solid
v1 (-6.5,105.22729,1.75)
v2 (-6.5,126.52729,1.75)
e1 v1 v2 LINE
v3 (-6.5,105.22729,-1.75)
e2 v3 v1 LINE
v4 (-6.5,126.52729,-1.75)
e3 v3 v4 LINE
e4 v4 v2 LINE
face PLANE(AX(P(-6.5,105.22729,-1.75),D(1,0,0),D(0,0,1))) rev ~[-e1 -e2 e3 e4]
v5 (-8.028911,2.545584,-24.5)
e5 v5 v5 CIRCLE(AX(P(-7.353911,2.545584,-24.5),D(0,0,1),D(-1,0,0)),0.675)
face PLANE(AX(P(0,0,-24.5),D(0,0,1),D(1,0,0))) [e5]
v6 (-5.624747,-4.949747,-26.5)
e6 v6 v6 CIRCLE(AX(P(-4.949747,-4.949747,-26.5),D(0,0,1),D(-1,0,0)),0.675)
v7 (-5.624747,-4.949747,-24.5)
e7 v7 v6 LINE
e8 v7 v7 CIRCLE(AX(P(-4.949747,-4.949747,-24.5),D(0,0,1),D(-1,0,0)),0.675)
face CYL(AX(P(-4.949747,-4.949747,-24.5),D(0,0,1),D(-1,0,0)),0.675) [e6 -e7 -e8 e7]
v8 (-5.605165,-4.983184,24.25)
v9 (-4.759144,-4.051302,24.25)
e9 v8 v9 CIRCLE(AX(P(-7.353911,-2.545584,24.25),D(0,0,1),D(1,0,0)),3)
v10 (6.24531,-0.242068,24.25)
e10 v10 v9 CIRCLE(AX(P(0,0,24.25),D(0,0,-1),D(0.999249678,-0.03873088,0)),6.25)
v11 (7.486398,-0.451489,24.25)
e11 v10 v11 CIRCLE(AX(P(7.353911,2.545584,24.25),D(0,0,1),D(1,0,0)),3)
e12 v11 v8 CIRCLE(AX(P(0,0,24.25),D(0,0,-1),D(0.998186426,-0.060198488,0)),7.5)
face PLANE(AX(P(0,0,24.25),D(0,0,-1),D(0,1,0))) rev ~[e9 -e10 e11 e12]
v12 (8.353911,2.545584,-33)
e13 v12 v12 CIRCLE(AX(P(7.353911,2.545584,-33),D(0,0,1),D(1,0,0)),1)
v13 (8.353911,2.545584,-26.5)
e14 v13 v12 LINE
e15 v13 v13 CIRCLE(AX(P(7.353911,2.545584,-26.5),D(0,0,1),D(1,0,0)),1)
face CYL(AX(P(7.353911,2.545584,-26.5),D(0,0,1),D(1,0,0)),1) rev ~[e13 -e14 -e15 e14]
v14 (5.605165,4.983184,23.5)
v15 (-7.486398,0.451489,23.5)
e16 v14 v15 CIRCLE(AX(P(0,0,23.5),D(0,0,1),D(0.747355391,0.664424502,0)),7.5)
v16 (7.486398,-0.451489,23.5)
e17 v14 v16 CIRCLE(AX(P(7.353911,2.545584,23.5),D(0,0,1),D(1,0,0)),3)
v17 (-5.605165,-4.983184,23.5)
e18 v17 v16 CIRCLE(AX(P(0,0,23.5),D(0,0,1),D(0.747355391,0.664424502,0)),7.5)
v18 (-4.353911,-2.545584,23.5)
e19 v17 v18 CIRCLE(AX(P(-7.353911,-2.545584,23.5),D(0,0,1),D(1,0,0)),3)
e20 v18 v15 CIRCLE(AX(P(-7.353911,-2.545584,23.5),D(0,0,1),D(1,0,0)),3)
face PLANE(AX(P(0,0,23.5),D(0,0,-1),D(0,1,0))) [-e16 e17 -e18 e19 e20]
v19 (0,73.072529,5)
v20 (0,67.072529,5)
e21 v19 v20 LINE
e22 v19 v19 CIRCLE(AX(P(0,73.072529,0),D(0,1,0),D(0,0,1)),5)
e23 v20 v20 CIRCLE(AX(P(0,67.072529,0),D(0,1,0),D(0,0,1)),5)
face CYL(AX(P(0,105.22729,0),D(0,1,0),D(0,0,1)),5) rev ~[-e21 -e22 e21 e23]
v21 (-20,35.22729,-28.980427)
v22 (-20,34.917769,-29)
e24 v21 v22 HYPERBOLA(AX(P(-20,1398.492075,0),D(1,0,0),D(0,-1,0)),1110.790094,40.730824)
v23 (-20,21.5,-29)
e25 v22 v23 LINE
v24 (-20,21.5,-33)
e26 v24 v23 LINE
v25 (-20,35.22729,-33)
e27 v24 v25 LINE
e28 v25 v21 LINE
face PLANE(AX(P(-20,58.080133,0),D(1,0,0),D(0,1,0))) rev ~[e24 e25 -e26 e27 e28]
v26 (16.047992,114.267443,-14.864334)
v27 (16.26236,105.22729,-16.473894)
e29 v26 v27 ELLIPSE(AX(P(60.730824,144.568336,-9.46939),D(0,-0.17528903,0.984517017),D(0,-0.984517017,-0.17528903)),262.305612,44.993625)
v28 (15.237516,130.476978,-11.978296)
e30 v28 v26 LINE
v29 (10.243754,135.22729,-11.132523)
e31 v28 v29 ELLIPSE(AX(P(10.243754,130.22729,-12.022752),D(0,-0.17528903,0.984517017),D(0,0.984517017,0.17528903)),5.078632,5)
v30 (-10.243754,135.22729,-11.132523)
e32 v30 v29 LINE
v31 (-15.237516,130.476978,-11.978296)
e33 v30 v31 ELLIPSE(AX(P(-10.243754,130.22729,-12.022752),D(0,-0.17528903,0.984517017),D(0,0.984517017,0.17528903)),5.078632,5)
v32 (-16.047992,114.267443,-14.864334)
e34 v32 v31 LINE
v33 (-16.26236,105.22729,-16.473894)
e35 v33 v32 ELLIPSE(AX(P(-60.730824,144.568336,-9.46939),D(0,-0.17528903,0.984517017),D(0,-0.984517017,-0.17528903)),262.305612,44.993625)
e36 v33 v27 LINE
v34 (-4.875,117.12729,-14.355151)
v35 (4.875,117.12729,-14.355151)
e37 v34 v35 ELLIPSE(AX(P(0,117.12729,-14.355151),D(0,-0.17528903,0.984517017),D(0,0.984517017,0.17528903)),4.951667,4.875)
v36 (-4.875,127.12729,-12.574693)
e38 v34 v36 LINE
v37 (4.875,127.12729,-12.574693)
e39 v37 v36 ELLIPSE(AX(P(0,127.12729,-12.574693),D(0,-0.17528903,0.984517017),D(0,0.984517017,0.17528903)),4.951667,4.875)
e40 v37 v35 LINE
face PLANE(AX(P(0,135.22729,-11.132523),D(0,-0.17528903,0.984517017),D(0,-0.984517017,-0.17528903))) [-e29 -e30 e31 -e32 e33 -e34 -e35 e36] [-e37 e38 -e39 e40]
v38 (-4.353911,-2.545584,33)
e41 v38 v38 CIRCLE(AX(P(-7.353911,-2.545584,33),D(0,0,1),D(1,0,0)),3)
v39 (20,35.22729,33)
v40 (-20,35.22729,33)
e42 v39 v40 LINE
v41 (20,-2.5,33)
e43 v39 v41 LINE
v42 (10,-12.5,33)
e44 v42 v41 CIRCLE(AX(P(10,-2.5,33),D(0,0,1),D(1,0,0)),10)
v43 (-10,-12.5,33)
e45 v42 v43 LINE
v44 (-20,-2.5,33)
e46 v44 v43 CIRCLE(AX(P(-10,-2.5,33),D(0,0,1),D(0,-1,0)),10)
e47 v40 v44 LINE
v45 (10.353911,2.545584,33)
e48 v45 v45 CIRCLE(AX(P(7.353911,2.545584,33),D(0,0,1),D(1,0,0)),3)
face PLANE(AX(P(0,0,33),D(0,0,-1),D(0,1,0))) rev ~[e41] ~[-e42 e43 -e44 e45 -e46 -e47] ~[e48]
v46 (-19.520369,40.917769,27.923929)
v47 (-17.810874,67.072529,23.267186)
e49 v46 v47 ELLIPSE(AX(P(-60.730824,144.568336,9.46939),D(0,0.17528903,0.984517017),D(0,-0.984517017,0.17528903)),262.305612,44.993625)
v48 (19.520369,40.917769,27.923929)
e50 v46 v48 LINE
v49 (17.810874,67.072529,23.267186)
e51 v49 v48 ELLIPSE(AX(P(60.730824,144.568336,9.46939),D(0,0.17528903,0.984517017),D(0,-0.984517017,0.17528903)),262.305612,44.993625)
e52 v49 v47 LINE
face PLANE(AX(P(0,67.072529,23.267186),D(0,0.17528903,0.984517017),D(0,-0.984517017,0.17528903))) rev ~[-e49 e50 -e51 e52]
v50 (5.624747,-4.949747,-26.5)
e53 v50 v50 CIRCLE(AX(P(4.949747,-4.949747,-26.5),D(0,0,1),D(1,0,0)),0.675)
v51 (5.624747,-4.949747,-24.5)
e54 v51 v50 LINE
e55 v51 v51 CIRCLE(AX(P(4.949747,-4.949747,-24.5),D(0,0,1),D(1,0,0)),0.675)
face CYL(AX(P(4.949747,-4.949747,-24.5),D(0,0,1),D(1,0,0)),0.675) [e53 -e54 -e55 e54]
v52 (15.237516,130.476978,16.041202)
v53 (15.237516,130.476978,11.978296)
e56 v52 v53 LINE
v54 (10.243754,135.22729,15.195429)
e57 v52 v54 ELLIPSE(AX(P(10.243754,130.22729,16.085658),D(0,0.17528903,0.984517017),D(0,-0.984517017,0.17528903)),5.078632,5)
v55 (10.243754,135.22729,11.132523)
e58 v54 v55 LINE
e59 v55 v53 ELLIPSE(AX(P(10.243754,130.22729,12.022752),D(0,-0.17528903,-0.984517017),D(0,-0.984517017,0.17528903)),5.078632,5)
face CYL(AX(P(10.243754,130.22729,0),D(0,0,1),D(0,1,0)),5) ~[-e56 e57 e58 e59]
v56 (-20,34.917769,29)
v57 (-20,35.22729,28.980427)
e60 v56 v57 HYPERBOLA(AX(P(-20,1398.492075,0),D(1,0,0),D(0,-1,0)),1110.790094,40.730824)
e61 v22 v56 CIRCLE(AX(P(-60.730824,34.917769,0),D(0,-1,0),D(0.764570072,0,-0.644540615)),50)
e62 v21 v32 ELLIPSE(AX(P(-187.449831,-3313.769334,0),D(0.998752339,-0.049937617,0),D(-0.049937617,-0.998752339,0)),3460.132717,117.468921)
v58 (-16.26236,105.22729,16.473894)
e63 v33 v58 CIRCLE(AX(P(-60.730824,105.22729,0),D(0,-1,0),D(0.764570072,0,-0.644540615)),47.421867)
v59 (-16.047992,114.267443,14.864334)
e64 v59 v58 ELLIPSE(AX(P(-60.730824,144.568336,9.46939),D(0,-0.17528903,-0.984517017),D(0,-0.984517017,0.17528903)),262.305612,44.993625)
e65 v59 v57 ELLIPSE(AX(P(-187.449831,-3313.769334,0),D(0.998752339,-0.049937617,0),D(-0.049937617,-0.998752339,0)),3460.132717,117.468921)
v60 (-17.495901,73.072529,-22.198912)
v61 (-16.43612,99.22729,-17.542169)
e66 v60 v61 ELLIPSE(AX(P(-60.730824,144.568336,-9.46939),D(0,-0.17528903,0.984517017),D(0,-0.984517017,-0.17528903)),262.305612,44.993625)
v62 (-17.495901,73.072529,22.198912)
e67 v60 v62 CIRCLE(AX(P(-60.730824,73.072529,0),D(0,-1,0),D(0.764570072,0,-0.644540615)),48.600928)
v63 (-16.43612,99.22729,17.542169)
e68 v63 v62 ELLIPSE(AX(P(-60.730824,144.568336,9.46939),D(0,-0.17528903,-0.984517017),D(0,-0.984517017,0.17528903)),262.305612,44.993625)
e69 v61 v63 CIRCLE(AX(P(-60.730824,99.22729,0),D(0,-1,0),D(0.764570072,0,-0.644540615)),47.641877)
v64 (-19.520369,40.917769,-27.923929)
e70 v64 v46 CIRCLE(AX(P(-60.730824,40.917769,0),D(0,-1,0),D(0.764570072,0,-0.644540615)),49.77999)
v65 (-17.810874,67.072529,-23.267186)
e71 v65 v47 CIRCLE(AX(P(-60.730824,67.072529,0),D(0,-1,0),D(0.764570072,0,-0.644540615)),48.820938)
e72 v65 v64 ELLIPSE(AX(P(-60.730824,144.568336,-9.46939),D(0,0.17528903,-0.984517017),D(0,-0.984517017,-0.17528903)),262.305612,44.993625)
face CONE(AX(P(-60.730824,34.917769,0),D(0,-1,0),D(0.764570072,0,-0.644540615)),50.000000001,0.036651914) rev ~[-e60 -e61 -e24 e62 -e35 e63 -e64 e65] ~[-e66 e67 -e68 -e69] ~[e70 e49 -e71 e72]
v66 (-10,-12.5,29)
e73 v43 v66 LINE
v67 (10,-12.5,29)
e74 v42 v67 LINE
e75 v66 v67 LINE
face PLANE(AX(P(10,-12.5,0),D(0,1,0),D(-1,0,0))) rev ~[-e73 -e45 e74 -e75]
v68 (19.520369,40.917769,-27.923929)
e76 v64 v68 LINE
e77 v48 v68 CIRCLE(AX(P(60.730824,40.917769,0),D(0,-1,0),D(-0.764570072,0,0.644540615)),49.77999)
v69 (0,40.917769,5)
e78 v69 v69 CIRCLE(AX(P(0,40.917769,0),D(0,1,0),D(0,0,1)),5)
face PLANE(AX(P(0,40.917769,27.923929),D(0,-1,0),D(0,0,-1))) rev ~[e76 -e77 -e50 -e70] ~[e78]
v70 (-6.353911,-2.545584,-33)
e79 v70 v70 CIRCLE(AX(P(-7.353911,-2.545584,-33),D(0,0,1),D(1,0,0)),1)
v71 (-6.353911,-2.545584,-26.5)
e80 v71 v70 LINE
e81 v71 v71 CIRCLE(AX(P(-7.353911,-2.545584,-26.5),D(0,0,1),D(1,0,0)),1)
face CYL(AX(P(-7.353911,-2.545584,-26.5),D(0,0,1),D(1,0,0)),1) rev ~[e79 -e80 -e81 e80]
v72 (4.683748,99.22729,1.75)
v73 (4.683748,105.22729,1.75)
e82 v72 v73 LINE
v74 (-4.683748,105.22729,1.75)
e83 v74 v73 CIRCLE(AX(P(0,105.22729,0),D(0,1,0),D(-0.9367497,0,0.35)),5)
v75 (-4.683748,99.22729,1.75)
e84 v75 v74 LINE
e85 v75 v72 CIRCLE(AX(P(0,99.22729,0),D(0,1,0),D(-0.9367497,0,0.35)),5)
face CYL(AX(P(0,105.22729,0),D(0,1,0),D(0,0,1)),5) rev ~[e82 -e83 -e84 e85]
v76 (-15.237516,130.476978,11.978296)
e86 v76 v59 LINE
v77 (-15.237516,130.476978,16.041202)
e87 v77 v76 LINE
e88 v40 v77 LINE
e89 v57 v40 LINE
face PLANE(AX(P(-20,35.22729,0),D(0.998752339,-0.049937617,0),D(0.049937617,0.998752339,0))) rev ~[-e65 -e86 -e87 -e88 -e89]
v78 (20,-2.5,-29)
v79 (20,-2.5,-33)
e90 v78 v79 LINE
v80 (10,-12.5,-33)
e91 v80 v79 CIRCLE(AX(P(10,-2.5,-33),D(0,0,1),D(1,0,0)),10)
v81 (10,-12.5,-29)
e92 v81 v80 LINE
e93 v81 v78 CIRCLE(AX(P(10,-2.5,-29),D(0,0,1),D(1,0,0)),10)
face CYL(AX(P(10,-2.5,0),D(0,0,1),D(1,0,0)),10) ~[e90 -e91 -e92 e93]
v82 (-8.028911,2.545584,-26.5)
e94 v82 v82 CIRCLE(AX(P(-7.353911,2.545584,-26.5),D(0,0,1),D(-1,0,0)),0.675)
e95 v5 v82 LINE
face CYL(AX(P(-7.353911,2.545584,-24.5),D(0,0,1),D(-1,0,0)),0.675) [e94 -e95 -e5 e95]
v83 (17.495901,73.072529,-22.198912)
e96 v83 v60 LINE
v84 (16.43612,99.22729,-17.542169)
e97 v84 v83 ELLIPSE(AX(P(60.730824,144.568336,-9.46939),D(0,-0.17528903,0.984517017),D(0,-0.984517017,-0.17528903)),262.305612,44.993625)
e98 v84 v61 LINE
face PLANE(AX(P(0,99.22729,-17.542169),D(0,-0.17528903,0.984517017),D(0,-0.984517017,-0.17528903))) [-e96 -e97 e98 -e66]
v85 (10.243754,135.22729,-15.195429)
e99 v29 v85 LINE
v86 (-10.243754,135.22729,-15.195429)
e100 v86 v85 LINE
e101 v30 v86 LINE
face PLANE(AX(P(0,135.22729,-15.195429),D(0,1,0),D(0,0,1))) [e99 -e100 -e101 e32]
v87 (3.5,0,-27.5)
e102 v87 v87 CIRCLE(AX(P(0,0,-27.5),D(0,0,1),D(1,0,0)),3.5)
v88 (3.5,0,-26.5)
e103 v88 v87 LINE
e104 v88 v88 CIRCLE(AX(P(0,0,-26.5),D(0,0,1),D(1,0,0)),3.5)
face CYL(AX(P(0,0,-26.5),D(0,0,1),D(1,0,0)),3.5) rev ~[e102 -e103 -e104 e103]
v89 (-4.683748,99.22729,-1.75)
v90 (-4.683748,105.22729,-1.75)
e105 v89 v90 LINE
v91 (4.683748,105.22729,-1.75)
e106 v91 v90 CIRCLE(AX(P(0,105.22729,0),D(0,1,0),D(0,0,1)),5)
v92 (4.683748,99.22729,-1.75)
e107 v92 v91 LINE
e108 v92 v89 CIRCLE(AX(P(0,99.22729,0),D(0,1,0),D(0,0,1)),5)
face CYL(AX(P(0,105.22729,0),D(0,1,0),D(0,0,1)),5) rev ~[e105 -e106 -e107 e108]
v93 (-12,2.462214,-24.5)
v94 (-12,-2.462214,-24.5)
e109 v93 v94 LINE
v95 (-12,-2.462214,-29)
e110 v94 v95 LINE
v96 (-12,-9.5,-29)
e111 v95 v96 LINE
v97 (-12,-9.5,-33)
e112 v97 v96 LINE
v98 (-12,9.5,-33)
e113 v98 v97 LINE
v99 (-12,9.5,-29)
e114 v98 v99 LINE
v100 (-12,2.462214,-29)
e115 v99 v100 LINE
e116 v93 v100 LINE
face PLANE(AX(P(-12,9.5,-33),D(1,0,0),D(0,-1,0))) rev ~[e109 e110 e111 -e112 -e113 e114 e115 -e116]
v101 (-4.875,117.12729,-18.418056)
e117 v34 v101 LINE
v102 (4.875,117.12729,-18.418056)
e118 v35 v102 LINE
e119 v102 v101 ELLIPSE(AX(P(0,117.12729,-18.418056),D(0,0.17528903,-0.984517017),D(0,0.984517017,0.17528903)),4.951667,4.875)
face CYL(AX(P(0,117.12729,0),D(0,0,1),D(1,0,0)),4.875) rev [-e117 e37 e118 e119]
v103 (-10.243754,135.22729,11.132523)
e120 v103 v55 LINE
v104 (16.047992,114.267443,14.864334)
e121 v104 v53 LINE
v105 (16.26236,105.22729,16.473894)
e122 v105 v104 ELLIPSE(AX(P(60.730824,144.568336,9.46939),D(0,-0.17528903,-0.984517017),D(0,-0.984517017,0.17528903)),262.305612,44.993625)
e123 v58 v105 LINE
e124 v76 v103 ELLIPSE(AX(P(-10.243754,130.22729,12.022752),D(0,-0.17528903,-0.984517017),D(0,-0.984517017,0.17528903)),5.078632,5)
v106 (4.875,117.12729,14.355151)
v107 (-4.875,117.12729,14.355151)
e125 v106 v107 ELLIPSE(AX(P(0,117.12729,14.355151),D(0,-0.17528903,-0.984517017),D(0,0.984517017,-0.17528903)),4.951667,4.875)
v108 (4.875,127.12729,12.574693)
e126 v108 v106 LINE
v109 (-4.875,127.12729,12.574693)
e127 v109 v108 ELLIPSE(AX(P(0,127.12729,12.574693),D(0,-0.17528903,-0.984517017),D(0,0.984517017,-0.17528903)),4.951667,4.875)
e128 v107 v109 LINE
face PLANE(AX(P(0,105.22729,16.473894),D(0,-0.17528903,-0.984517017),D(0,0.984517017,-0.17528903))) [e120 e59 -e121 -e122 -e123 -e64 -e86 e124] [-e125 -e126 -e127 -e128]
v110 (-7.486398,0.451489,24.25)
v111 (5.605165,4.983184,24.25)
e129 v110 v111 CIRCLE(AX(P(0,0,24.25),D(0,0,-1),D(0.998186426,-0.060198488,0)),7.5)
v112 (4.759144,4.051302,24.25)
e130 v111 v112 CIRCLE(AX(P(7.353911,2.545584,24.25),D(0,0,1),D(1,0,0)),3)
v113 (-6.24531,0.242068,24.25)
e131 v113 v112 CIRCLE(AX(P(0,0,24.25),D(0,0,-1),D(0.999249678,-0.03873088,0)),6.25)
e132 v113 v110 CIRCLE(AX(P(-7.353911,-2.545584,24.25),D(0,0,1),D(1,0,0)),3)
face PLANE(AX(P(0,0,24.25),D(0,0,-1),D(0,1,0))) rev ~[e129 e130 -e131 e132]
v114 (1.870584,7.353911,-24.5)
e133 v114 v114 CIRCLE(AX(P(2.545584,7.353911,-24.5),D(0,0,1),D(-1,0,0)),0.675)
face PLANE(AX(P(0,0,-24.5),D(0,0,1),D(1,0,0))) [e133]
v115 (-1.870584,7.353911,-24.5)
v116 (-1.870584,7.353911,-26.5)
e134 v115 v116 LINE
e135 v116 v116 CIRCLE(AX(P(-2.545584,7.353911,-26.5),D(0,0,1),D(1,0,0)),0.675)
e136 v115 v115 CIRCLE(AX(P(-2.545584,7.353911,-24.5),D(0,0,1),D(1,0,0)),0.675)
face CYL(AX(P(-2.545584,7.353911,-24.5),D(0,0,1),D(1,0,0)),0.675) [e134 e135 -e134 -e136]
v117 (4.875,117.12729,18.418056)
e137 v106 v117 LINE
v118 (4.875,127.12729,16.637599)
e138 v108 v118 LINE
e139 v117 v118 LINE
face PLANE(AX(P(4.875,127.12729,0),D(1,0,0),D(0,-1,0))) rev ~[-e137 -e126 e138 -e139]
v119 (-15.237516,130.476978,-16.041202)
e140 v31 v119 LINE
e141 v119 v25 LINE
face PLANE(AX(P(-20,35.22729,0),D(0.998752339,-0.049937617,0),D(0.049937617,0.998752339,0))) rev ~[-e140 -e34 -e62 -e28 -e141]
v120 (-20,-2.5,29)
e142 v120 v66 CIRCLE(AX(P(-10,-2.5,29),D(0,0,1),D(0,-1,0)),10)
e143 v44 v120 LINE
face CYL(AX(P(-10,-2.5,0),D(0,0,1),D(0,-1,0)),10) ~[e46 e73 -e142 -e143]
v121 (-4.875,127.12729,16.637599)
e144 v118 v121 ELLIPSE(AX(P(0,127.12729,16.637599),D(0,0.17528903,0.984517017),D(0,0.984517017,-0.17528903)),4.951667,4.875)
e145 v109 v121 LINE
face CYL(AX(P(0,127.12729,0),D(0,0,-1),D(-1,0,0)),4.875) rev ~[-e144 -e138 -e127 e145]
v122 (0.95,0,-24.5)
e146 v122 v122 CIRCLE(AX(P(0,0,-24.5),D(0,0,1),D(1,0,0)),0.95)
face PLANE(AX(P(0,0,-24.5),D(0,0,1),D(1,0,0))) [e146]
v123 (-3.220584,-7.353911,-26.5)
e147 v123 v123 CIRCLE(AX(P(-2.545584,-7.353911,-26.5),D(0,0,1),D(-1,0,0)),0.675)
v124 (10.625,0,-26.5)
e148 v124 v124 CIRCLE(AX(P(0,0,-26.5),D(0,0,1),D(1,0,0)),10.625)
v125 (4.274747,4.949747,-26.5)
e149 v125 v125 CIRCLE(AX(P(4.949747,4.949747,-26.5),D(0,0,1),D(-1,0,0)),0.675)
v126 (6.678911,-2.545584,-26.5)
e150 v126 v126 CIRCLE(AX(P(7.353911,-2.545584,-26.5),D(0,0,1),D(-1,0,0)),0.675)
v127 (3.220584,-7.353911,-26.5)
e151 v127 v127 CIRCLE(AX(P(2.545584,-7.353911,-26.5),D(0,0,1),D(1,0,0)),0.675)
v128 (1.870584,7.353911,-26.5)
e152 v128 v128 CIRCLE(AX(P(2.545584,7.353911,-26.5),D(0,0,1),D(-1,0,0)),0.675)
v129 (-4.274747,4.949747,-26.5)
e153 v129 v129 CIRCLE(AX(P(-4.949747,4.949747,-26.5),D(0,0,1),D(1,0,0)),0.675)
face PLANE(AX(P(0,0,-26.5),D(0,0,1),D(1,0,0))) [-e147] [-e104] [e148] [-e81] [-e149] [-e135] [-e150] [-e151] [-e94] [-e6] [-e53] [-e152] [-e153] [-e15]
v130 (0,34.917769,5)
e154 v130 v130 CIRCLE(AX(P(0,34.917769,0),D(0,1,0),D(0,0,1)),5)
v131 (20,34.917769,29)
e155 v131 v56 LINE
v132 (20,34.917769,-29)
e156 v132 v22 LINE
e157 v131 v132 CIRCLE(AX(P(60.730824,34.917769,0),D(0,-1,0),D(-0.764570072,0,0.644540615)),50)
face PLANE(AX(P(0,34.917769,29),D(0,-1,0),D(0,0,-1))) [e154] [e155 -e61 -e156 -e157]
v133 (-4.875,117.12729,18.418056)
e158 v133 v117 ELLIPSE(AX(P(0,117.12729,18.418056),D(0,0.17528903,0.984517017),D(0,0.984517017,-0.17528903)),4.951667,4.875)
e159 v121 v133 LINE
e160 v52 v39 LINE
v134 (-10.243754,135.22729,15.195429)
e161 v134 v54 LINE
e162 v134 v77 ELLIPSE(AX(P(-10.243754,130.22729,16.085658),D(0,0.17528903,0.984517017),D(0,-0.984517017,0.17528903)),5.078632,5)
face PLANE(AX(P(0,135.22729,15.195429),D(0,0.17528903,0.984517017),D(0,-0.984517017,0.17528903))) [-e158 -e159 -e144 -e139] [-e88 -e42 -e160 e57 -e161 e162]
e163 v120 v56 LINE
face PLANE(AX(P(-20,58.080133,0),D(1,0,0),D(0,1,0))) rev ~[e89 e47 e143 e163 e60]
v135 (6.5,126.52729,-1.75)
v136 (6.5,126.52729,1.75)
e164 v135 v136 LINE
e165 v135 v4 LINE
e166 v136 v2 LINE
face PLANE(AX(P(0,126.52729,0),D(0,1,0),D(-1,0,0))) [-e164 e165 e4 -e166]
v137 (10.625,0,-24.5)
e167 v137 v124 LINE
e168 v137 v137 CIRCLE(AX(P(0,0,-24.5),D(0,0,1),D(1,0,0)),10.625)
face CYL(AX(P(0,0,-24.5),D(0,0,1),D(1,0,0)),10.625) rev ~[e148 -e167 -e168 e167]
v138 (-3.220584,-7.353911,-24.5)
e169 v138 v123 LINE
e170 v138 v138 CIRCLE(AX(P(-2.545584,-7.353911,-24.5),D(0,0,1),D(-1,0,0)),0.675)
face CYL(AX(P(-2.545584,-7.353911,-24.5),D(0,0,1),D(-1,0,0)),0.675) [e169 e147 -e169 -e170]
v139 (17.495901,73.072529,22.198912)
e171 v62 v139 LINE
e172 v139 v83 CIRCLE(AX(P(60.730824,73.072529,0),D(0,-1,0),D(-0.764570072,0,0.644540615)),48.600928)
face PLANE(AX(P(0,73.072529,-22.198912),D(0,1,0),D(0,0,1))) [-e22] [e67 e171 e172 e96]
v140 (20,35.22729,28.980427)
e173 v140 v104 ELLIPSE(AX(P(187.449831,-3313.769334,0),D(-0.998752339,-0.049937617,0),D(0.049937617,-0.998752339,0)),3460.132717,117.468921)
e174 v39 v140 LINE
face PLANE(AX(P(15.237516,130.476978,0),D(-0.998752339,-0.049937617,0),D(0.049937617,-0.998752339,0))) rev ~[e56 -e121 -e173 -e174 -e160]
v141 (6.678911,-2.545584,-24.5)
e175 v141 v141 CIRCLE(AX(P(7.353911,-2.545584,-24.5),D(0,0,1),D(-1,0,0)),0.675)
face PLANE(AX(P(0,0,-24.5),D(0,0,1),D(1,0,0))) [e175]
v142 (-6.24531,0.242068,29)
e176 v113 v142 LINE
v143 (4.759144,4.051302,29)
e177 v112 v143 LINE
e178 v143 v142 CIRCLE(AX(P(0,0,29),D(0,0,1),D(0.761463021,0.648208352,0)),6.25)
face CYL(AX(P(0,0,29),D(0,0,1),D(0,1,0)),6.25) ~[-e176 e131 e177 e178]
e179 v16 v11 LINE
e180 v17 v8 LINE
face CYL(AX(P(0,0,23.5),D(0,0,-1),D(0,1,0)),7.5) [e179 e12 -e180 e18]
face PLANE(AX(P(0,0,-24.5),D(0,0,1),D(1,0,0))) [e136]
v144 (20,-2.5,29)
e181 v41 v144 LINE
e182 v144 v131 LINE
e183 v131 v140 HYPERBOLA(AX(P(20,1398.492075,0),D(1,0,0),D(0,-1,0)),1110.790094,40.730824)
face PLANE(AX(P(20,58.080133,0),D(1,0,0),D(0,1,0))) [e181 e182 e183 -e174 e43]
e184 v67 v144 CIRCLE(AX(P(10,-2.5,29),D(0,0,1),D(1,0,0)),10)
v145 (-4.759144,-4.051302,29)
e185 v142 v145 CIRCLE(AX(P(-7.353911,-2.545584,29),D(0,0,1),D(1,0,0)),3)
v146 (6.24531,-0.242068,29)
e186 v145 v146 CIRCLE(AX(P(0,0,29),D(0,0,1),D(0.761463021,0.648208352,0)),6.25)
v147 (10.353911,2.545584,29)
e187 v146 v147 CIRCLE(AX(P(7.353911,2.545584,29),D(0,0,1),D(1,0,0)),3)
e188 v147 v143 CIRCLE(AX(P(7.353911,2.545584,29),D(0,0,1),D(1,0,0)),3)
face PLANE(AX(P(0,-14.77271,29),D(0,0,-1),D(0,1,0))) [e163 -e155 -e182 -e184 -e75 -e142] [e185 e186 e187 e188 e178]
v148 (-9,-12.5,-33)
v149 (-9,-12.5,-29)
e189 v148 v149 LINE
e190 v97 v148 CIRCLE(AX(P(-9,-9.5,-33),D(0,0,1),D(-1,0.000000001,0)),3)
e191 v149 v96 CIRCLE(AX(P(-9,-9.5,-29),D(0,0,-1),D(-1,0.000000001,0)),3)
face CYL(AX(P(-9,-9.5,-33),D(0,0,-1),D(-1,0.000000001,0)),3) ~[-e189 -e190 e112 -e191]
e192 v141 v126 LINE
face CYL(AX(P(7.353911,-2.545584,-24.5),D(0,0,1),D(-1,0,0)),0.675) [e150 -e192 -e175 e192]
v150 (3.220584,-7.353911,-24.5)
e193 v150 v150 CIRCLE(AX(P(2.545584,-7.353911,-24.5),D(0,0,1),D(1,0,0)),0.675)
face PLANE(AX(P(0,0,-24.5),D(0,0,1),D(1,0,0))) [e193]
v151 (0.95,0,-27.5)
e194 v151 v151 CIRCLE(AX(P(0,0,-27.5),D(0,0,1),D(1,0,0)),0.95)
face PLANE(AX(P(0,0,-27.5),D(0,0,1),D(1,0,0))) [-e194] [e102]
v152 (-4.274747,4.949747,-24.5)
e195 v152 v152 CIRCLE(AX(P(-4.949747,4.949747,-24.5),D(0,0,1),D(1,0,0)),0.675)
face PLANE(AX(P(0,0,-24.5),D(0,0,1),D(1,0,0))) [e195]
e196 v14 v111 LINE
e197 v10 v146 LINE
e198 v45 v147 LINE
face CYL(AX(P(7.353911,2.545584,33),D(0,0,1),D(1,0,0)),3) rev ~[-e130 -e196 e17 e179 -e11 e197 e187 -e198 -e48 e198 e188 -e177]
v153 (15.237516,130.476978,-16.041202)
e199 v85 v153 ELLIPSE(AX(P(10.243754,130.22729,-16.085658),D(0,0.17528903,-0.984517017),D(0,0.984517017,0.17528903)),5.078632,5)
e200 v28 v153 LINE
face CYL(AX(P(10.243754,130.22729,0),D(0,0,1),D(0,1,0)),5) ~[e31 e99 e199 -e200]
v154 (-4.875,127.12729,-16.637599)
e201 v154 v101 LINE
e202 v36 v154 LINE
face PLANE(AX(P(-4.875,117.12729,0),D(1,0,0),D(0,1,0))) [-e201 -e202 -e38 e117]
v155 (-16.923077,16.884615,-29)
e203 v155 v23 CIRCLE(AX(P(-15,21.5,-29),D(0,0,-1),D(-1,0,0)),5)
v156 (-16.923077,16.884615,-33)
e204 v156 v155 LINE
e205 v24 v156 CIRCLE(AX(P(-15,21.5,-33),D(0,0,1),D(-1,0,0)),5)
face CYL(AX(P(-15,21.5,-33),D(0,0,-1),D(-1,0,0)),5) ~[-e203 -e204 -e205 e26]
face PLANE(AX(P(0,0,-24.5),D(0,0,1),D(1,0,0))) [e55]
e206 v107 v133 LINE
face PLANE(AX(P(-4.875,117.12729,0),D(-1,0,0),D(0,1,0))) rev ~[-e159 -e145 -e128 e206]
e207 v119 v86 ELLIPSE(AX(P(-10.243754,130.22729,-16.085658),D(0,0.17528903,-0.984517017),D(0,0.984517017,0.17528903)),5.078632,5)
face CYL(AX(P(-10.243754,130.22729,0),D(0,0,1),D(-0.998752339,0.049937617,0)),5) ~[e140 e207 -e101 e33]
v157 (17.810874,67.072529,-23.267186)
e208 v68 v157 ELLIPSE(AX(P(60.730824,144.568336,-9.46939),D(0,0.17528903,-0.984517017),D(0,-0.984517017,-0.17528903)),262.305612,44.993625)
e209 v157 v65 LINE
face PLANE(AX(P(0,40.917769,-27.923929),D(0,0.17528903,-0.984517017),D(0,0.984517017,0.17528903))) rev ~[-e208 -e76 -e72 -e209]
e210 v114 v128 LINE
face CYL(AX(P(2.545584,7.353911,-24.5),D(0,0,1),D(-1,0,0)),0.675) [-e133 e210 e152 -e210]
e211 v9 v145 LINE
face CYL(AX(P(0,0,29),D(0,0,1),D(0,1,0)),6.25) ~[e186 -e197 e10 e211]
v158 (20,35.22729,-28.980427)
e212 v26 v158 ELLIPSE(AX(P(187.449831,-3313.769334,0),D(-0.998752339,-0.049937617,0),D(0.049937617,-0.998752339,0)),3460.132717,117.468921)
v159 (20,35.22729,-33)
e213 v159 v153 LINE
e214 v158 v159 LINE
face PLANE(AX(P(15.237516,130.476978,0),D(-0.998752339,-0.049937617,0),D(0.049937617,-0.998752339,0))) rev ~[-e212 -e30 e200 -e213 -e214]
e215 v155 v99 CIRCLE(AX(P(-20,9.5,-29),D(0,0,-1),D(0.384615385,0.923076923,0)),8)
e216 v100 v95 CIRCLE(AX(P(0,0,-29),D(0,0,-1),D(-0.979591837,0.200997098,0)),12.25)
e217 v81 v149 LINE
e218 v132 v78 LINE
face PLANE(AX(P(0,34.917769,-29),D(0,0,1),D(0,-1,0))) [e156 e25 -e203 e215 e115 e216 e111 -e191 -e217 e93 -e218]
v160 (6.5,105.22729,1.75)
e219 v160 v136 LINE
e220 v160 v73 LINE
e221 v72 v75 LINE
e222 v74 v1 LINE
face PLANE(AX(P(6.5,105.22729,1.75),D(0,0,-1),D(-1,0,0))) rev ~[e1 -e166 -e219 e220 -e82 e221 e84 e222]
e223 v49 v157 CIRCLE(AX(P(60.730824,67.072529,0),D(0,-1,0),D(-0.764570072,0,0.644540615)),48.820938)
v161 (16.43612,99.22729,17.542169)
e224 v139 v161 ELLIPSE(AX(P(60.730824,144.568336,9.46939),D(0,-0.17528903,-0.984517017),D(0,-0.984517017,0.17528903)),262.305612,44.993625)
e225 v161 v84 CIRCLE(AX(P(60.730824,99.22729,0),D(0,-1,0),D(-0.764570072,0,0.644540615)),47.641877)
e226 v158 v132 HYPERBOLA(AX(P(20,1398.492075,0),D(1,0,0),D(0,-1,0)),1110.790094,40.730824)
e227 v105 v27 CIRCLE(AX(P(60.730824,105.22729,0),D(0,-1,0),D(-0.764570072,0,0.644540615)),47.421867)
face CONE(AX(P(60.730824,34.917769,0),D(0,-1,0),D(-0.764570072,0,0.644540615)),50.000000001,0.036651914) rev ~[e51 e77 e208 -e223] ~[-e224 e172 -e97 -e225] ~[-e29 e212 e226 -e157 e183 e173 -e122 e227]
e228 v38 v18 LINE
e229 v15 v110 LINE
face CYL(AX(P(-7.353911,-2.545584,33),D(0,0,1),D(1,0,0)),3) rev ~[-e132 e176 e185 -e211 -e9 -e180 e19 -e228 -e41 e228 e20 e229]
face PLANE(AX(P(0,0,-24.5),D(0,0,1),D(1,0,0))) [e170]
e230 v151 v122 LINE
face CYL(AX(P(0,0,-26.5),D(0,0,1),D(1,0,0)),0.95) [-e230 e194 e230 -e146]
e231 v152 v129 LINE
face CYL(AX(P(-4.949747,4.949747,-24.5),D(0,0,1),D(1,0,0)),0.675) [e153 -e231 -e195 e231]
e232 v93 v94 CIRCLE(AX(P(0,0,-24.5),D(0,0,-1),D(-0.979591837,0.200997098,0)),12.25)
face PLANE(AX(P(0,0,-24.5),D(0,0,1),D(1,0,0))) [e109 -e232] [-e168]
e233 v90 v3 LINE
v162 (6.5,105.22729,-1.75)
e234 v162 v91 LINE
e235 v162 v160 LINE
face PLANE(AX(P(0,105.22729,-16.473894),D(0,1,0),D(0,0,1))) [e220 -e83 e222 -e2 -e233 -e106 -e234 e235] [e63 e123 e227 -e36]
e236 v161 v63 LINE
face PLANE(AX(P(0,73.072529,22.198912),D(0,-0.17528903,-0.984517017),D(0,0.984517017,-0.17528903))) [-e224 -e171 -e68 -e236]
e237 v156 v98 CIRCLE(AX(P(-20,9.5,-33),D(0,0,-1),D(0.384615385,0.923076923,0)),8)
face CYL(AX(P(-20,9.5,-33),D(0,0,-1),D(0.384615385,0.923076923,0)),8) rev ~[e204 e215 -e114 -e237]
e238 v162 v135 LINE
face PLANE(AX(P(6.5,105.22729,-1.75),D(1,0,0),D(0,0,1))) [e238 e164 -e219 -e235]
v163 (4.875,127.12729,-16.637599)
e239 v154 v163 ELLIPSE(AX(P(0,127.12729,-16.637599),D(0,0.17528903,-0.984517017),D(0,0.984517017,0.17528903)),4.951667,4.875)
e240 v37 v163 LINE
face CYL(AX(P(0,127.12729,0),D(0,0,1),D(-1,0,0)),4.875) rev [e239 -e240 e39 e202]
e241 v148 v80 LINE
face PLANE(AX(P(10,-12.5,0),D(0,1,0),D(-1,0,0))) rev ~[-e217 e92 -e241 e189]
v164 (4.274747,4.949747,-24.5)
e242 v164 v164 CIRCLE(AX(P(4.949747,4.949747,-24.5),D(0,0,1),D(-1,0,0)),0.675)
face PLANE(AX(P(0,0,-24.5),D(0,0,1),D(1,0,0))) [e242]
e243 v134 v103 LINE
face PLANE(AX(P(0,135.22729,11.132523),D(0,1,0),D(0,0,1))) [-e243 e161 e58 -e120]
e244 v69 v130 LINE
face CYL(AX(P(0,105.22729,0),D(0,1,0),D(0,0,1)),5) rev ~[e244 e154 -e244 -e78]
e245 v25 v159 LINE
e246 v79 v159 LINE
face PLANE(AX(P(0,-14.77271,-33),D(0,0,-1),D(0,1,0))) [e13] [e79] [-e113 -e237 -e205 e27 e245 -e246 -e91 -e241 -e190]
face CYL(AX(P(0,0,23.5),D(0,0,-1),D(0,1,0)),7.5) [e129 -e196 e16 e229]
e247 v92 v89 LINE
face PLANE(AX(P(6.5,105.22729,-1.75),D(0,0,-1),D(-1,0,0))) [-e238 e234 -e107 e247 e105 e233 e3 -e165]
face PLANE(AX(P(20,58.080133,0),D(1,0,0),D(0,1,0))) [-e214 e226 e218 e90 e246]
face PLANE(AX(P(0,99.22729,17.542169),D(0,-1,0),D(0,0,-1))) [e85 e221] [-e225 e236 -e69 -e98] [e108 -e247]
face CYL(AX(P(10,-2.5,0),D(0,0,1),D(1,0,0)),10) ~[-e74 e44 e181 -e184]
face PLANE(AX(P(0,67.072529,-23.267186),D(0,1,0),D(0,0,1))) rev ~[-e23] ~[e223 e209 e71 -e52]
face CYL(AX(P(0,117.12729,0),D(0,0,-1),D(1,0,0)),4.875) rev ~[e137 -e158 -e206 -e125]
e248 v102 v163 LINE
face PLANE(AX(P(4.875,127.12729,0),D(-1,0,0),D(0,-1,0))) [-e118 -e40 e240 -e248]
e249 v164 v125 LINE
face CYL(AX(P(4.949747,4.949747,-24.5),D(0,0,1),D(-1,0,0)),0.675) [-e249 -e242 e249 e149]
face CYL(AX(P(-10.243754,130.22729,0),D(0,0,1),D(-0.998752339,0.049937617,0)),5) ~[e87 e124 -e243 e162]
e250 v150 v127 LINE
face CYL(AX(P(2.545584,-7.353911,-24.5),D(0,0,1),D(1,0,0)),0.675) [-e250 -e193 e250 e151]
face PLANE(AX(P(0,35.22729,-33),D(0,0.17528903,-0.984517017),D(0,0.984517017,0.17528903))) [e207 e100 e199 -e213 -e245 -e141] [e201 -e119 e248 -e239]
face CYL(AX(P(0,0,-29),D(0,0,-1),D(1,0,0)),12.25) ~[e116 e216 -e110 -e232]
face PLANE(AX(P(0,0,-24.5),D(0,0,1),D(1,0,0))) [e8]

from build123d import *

# Parameters (mm, degrees)
BOSS_EXTRUDE1_DEPTH             = 20
SKETCH6_R                       = 12.25
BOSS_EXTRUDE2_DEPTH             = 4.5
SKETCH4_W                       = 157.727290237
SKETCH4_H                       = 50
CUT_EXTRUDE10_DEPTH             = 34.640665044
CUT_EXTRUDE12_DEPTH             = 141.625104537
CUT_EXTRUDE12_DEPTH_BACK        = 141.625104537
SKETCH11_R                      = 10.625
SKETCH11_R_2                    = 0.95
SKETCH11_R_3                    = 0.675
CUT_EXTRUDE13_DEPTH             = 2
SKETCH12_R                      = 3.5
SKETCH12_R_2                    = 0.95
CUT_EXTRUDE14_DEPTH             = 1
CUT_EXTRUDE15_REACH             = 153.797
SKETCH14_R                      = 5
CUT_EXTRUDE16_DEPTH             = 124.889930448
CUT_EXTRUDE17_DEPTH             = 108.475579093
CUT_EXTRUDE17_DRAFT             = -2.1
CUT_EXTRUDE17_PROFILE_2_DEPTH   = 108.475579093
CUT_EXTRUDE17_PROFILE_2_DRAFT   = -2.1
CUT_EXTRUDE18_REACH             = 151.086
SKETCH16_R                      = 1
SKETCH18_R                      = 6.25
BOSS_EXTRUDE4_DEPTH             = 5.5
BOSS_EXTRUDE4_DEPTH_BACK        = 4
SKETCH19_W                      = 13
SKETCH19_H                      = 3.5
BOSS_EXTRUDE5_DEPTH             = 21.3
BOSS_EXTRUDE5_DIRECTION_2_REACH = 125.89
SKETCH20_R                      = 7.5
BOSS_EXTRUDE6_DEPTH             = 0.75
CUT_EXTRUDE19_REACH             = 153.797
SKETCH17_R                      = 3


with BuildPart() as part:
    # Sketch1 → Boss-Extrude1 (new, symmetric)
    with BuildSketch(Plane.YZ):
        Polygon((-14.772710004, -33), (35.227289996, -33), (135.227290242, -15.19542909), (135.227290242, -11.132523186), (105.227290242, -16.473894445), (105.227290242, 16.473894445), (135.227290242, 11.132523186), (135.227290242, 15.19542909), (35.227289996, 33), (-14.772710004, 33), (-14.772710004, 29), (34.917768753, 29), (34.917768753, -29), (-14.772710004, -29), align=None)
        Polygon((40.917768753, -27.923928772), (67.072529497, -23.267185861), (67.072529497, 23.267185861), (40.917768753, 27.923928772), align=None, mode=Mode.SUBTRACT)
        Polygon((73.072529497, 22.198911609), (99.227290242, 17.542168697), (99.227290242, -17.542168697), (73.072529497, -22.198911609), align=None, mode=Mode.SUBTRACT)
    extrude(amount=BOSS_EXTRUDE1_DEPTH, both=True)

    # Sketch6 → Boss-Extrude2 (add)
    with BuildSketch(Plane.XY.offset(-29)):
        Circle(SKETCH6_R)
    extrude(amount=BOSS_EXTRUDE2_DEPTH)

    # Sketch4 → Cut-Extrude10 (cut, symmetric)
    with BuildSketch(Plane(origin=(0, 0, 0), x_dir=(0, 1, 0), z_dir=(0, 0, 1))):
        with Locations((61.363645124, 0)):
            Rectangle(SKETCH4_W, SKETCH4_H)
        with BuildLine():
            Line((35.227289996, 20), (130.476978326, 15.237515595))
            ThreePointArc((130.476978326, 15.237515595), (133.850026805, 13.689879231), (135.227290242, 10.243753901))
            Line((135.227290242, 10.243753901), (135.227290242, -10.243753901))
            ThreePointArc((135.227290242, -10.243753901), (133.850026805, -13.689879231), (130.476978326, -15.237515595))
            Line((130.476978326, -15.237515595), (35.227289996, -20))
            Line((35.227289996, -20), (-2.499999995, -20))
            ThreePointArc((-2.499999995, -20), (-9.571067807, -17.071067812), (-12.499999995, -10))
            Line((-12.499999995, -10), (-12.499999995, 10))
            ThreePointArc((-12.499999995, 10), (-9.571067807, 17.071067812), (-2.499999995, 20))
            Line((-2.499999995, 20), (35.227289996, 20))
        make_face(mode=Mode.SUBTRACT)
    extrude(amount=CUT_EXTRUDE10_DEPTH, both=True, mode=Mode.SUBTRACT)

    # Sketch8 → Cut-Extrude12 (cut, two sides)
    with BuildSketch(Plane(origin=(0, 0, 0), x_dir=(0, 1, 0), z_dir=(0, 0, 1))) as cut_extrude12_sk:
        with BuildLine():
            Line((117.127290242, 4.875), (127.127290242, 4.875))
            ThreePointArc((127.127290242, 4.875), (132.002290242, 0), (127.127290242, -4.875))
            Line((127.127290242, -4.875), (117.127290242, -4.875))
            ThreePointArc((117.127290242, -4.875), (112.252290242, 0), (117.127290242, 4.875))
        make_face()
    extrude(amount=CUT_EXTRUDE12_DEPTH, mode=Mode.SUBTRACT)
    extrude(cut_extrude12_sk.sketch, amount=-CUT_EXTRUDE12_DEPTH_BACK, mode=Mode.SUBTRACT)

    # Sketch11 → Cut-Extrude13 (cut)
    with BuildSketch(Plane.XY.offset(-24.5)):
        Circle(SKETCH11_R)
        Circle(SKETCH11_R_2, mode=Mode.SUBTRACT)
        with Locations(Location((2.545584412, 7.353910524, 0), (0, 0, 180))):
            Circle(SKETCH11_R_3, mode=Mode.SUBTRACT)
        with Locations(Location((4.949747468, 4.949747468, 0), (0, 0, 180))):
            Circle(SKETCH11_R_3, mode=Mode.SUBTRACT)
        with Locations((-2.545584412, 7.353910524)):
            Circle(SKETCH11_R_3, mode=Mode.SUBTRACT)
        with Locations((-4.949747468, 4.949747468)):
            Circle(SKETCH11_R_3, mode=Mode.SUBTRACT)
        with Locations(Location((-7.353910524, 2.545584412, 0), (0, 0, 180))):
            Circle(SKETCH11_R_3, mode=Mode.SUBTRACT)
        with Locations(Location((-4.949747468, -4.949747468, 0), (0, 0, 180))):
            Circle(SKETCH11_R_3, mode=Mode.SUBTRACT)
        with Locations(Location((-2.545584412, -7.353910524, 0), (0, 0, 180))):
            Circle(SKETCH11_R_3, mode=Mode.SUBTRACT)
        with Locations(Location((7.353910524, -2.545584412, 0), (0, 0, 180))):
            Circle(SKETCH11_R_3, mode=Mode.SUBTRACT)
        with Locations((2.545584412, -7.353910524)):
            Circle(SKETCH11_R_3, mode=Mode.SUBTRACT)
        with Locations((4.949747468, -4.949747468)):
            Circle(SKETCH11_R_3, mode=Mode.SUBTRACT)
    extrude(amount=-CUT_EXTRUDE13_DEPTH, mode=Mode.SUBTRACT)

    # Sketch12 → Cut-Extrude14 (cut)
    with BuildSketch(Plane.XY.offset(-26.5)):
        Circle(SKETCH12_R)
        Circle(SKETCH12_R_2, mode=Mode.SUBTRACT)
    extrude(amount=-CUT_EXTRUDE14_DEPTH, mode=Mode.SUBTRACT)

    # Sketch13 → Cut-Extrude15 (cut, up to next)
    with BuildSketch(Plane(origin=(0, 0, -33), x_dir=(1, 0, 0), z_dir=(0, 0, -1)), mode=Mode.PRIVATE) as cut_extrude15_sk1:
        with BuildLine():
            Line((-9, 12.499999995), (-20, 12.499999995))
            Line((-20, 12.499999995), (-20, -21.500000005))
            ThreePointArc((-20, -21.500000005), (-19.160251472, -18.726499024), (-16.923076923, -16.88461539))
            ThreePointArc((-16.923076923, -16.88461539), (-13.343597645, -13.937601575), (-12, -9.500000005))
            Line((-12, -9.500000005), (-12, 9.499999995))
            ThreePointArc((-12, 9.499999995), (-11.121320344, 11.621320339), (-9, 12.499999995))
        make_face()
    cut_extrude15_tool1 = extrude(cut_extrude15_sk1.sketch, amount=-CUT_EXTRUDE15_REACH, mode=Mode.PRIVATE) & part.part
    add(cut_extrude15_tool1.solids().sort_by_distance((-16.130851, 1.777121, -33))[0], mode=Mode.SUBTRACT)

    # Sketch14 → Cut-Extrude16 (cut, through all)
    with BuildSketch(Plane(origin=(0, 105.227290242, 0), x_dir=(-1, 0, 0), z_dir=(0, 1, 0))):
        with Locations(Location((0, 0, 0), (0, 0, 90))):
            Circle(SKETCH14_R)
    extrude(amount=-CUT_EXTRUDE16_DEPTH, mode=Mode.SUBTRACT)


with BuildPart() as cut_extrude17_tool:
    # Sketch15 → Cut-Extrude17 (with draft: the straight prism first)
    with BuildSketch(Plane.XZ.offset(-34.917768753)):
        with BuildLine():
            Line((-22.502320086, 32.227030747), (-22.502320086, -32.227030747))
            ThreePointArc((-22.502320086, -32.227030747), (-10.730823709, 0), (-22.502320086, 32.227030747))
        make_face()
    extrude(amount=-CUT_EXTRUDE17_DEPTH)
    # Cut-Extrude17: the draft: its side faces are tilted about the plane it starts from
    cut_extrude17_sides = [cut_extrude17_tool.faces().sort_by_distance(p)[0] for p in [
        (-22.502320086, 89.155558299, 0),
        (-10.730823709, 89.155558299, 0),
    ]]
    draft(cut_extrude17_sides, Plane.XZ.offset(-34.917768753), CUT_EXTRUDE17_DRAFT)


with BuildPart() as part_1:
    add(part.part)

    # Cut-Extrude17: cut by cut_extrude17_tool
    add(cut_extrude17_tool.part, mode=Mode.SUBTRACT)


with BuildPart() as cut_extrude17_profile_2_tool:
    # Sketch15 → Cut-Extrude17 profile 2 (with draft: the straight prism first)
    with BuildSketch(Plane.XZ.offset(-34.917768753)):
        with BuildLine():
            ThreePointArc((22.502320086, 32.227030747), (10.730823709, 0), (22.502320086, -32.227030747))
            Line((22.502320086, -32.227030747), (22.502320086, 32.227030747))
        make_face()
    extrude(amount=-CUT_EXTRUDE17_PROFILE_2_DEPTH)
    # Cut-Extrude17 profile 2: the draft: its side faces are tilted about the plane it starts from
    cut_extrude17_profile_2_sides = [cut_extrude17_profile_2_tool.faces().sort_by_distance(p)[0] for p in [
        (22.502320086, 89.155558299, 0),
        (10.730823709, 89.155558299, 0),
    ]]
    draft(cut_extrude17_profile_2_sides, Plane.XZ.offset(-34.917768753), CUT_EXTRUDE17_PROFILE_2_DRAFT)


with BuildPart() as part_2:
    add(part_1.part)

    # Cut-Extrude17 profile 2: cut by cut_extrude17_profile_2_tool
    add(cut_extrude17_profile_2_tool.part, mode=Mode.SUBTRACT)

    # Sketch16 → Cut-Extrude18 (cut, up to next)
    with BuildSketch(Plane.XY.offset(-26.5), mode=Mode.PRIVATE) as cut_extrude18_sk1:
        with Locations((-7.353910524, -2.545584412)):
            Circle(SKETCH16_R)
    cut_extrude18_tool1 = extrude(cut_extrude18_sk1.sketch, amount=-CUT_EXTRUDE18_REACH, mode=Mode.PRIVATE) & part_2.part
    # Sketch16 → Cut-Extrude18 (cut, up to next)
    with BuildSketch(Plane.XY.offset(-26.5), mode=Mode.PRIVATE) as cut_extrude18_sk2:
        with Locations((7.353910524, 2.545584412)):
            Circle(SKETCH16_R)
    cut_extrude18_tool2 = extrude(cut_extrude18_sk2.sketch, amount=-CUT_EXTRUDE18_REACH, mode=Mode.PRIVATE) & part_2.part
    add(cut_extrude18_tool1.solids().sort_by_distance((-7.353911, -2.545584, -26.5))[0], mode=Mode.SUBTRACT)
    add(cut_extrude18_tool2.solids().sort_by_distance((7.353911, 2.545584, -26.5))[0], mode=Mode.SUBTRACT)

    # Sketch18 → Boss-Extrude4 (add, two sides)
    with BuildSketch(Plane(origin=(0, 0, 29), x_dir=(1, 0, 0), z_dir=(0, 0, -1))) as boss_extrude4_sk:
        with Locations(Location((0, 0, 0), (0, 0, 270))):
            Circle(SKETCH18_R)
    extrude(amount=BOSS_EXTRUDE4_DEPTH)
    extrude(boss_extrude4_sk.sketch, amount=-BOSS_EXTRUDE4_DEPTH_BACK)

    # Sketch19 → Boss-Extrude5 (add)
    with BuildSketch(Plane(origin=(0, 105.227290242, 0), x_dir=(-1, 0, 0), z_dir=(0, 1, 0))):
        Rectangle(SKETCH19_W, SKETCH19_H)
    extrude(amount=BOSS_EXTRUDE5_DEPTH)

    # Boss-Extrude5 direction 2: up to this face of the body (flat: up to its plane)
    boss_extrude5_direction_2_end = Plane(part_2.part.faces().sort_by_distance((0, 99.227290242, 17.061388609))[0])
    # Sketch19 → Boss-Extrude5 direction 2 (add, up to the picked face)
    with BuildSketch(Plane(origin=(0, 105.227290242, 0), x_dir=(-1, 0, 0), z_dir=(0, 1, 0)), mode=Mode.PRIVATE) as boss_extrude5_direction_2_sk1:
        Rectangle(SKETCH19_W, SKETCH19_H)
    boss_extrude5_direction_2_tool1 = split(extrude(boss_extrude5_direction_2_sk1.sketch, amount=-BOSS_EXTRUDE5_DIRECTION_2_REACH, mode=Mode.PRIVATE), bisect_by=boss_extrude5_direction_2_end, keep=Keep.BOTH, mode=Mode.PRIVATE)
    add(boss_extrude5_direction_2_tool1.solids().sort_by(Axis((0, 105.22729, 0), (0, -1, 0)))[0])

    # Sketch20 → Boss-Extrude6 (add)
    with BuildSketch(Plane(origin=(0, 0, 23.5), x_dir=(1, 0, 0), z_dir=(0, 0, -1))):
        with Locations(Location((0, 0, 0), (0, 0, 270))):
            Circle(SKETCH20_R)
    extrude(amount=-BOSS_EXTRUDE6_DEPTH)

    # Sketch17 → Cut-Extrude19 (cut, up to next)
    with BuildSketch(Plane.XY.offset(33), mode=Mode.PRIVATE) as cut_extrude19_sk1:
        with Locations((7.353910524, 2.545584412)):
            Circle(SKETCH17_R)
    cut_extrude19_tool1 = extrude(cut_extrude19_sk1.sketch, amount=-CUT_EXTRUDE19_REACH, mode=Mode.PRIVATE) & part_2.part
    # Sketch17 → Cut-Extrude19 (cut, up to next)
    with BuildSketch(Plane.XY.offset(33), mode=Mode.PRIVATE) as cut_extrude19_sk2:
        with Locations((-7.353910524, -2.545584412)):
            Circle(SKETCH17_R)
    cut_extrude19_tool2 = extrude(cut_extrude19_sk2.sketch, amount=-CUT_EXTRUDE19_REACH, mode=Mode.PRIVATE) & part_2.part
    add(cut_extrude19_tool1.solids().sort_by_distance((7.353911, 2.545584, 33))[0], mode=Mode.SUBTRACT)
    add(cut_extrude19_tool2.solids().sort_by_distance((-7.353911, -2.545584, 33))[0], mode=Mode.SUBTRACT)


solid = part_2.part
